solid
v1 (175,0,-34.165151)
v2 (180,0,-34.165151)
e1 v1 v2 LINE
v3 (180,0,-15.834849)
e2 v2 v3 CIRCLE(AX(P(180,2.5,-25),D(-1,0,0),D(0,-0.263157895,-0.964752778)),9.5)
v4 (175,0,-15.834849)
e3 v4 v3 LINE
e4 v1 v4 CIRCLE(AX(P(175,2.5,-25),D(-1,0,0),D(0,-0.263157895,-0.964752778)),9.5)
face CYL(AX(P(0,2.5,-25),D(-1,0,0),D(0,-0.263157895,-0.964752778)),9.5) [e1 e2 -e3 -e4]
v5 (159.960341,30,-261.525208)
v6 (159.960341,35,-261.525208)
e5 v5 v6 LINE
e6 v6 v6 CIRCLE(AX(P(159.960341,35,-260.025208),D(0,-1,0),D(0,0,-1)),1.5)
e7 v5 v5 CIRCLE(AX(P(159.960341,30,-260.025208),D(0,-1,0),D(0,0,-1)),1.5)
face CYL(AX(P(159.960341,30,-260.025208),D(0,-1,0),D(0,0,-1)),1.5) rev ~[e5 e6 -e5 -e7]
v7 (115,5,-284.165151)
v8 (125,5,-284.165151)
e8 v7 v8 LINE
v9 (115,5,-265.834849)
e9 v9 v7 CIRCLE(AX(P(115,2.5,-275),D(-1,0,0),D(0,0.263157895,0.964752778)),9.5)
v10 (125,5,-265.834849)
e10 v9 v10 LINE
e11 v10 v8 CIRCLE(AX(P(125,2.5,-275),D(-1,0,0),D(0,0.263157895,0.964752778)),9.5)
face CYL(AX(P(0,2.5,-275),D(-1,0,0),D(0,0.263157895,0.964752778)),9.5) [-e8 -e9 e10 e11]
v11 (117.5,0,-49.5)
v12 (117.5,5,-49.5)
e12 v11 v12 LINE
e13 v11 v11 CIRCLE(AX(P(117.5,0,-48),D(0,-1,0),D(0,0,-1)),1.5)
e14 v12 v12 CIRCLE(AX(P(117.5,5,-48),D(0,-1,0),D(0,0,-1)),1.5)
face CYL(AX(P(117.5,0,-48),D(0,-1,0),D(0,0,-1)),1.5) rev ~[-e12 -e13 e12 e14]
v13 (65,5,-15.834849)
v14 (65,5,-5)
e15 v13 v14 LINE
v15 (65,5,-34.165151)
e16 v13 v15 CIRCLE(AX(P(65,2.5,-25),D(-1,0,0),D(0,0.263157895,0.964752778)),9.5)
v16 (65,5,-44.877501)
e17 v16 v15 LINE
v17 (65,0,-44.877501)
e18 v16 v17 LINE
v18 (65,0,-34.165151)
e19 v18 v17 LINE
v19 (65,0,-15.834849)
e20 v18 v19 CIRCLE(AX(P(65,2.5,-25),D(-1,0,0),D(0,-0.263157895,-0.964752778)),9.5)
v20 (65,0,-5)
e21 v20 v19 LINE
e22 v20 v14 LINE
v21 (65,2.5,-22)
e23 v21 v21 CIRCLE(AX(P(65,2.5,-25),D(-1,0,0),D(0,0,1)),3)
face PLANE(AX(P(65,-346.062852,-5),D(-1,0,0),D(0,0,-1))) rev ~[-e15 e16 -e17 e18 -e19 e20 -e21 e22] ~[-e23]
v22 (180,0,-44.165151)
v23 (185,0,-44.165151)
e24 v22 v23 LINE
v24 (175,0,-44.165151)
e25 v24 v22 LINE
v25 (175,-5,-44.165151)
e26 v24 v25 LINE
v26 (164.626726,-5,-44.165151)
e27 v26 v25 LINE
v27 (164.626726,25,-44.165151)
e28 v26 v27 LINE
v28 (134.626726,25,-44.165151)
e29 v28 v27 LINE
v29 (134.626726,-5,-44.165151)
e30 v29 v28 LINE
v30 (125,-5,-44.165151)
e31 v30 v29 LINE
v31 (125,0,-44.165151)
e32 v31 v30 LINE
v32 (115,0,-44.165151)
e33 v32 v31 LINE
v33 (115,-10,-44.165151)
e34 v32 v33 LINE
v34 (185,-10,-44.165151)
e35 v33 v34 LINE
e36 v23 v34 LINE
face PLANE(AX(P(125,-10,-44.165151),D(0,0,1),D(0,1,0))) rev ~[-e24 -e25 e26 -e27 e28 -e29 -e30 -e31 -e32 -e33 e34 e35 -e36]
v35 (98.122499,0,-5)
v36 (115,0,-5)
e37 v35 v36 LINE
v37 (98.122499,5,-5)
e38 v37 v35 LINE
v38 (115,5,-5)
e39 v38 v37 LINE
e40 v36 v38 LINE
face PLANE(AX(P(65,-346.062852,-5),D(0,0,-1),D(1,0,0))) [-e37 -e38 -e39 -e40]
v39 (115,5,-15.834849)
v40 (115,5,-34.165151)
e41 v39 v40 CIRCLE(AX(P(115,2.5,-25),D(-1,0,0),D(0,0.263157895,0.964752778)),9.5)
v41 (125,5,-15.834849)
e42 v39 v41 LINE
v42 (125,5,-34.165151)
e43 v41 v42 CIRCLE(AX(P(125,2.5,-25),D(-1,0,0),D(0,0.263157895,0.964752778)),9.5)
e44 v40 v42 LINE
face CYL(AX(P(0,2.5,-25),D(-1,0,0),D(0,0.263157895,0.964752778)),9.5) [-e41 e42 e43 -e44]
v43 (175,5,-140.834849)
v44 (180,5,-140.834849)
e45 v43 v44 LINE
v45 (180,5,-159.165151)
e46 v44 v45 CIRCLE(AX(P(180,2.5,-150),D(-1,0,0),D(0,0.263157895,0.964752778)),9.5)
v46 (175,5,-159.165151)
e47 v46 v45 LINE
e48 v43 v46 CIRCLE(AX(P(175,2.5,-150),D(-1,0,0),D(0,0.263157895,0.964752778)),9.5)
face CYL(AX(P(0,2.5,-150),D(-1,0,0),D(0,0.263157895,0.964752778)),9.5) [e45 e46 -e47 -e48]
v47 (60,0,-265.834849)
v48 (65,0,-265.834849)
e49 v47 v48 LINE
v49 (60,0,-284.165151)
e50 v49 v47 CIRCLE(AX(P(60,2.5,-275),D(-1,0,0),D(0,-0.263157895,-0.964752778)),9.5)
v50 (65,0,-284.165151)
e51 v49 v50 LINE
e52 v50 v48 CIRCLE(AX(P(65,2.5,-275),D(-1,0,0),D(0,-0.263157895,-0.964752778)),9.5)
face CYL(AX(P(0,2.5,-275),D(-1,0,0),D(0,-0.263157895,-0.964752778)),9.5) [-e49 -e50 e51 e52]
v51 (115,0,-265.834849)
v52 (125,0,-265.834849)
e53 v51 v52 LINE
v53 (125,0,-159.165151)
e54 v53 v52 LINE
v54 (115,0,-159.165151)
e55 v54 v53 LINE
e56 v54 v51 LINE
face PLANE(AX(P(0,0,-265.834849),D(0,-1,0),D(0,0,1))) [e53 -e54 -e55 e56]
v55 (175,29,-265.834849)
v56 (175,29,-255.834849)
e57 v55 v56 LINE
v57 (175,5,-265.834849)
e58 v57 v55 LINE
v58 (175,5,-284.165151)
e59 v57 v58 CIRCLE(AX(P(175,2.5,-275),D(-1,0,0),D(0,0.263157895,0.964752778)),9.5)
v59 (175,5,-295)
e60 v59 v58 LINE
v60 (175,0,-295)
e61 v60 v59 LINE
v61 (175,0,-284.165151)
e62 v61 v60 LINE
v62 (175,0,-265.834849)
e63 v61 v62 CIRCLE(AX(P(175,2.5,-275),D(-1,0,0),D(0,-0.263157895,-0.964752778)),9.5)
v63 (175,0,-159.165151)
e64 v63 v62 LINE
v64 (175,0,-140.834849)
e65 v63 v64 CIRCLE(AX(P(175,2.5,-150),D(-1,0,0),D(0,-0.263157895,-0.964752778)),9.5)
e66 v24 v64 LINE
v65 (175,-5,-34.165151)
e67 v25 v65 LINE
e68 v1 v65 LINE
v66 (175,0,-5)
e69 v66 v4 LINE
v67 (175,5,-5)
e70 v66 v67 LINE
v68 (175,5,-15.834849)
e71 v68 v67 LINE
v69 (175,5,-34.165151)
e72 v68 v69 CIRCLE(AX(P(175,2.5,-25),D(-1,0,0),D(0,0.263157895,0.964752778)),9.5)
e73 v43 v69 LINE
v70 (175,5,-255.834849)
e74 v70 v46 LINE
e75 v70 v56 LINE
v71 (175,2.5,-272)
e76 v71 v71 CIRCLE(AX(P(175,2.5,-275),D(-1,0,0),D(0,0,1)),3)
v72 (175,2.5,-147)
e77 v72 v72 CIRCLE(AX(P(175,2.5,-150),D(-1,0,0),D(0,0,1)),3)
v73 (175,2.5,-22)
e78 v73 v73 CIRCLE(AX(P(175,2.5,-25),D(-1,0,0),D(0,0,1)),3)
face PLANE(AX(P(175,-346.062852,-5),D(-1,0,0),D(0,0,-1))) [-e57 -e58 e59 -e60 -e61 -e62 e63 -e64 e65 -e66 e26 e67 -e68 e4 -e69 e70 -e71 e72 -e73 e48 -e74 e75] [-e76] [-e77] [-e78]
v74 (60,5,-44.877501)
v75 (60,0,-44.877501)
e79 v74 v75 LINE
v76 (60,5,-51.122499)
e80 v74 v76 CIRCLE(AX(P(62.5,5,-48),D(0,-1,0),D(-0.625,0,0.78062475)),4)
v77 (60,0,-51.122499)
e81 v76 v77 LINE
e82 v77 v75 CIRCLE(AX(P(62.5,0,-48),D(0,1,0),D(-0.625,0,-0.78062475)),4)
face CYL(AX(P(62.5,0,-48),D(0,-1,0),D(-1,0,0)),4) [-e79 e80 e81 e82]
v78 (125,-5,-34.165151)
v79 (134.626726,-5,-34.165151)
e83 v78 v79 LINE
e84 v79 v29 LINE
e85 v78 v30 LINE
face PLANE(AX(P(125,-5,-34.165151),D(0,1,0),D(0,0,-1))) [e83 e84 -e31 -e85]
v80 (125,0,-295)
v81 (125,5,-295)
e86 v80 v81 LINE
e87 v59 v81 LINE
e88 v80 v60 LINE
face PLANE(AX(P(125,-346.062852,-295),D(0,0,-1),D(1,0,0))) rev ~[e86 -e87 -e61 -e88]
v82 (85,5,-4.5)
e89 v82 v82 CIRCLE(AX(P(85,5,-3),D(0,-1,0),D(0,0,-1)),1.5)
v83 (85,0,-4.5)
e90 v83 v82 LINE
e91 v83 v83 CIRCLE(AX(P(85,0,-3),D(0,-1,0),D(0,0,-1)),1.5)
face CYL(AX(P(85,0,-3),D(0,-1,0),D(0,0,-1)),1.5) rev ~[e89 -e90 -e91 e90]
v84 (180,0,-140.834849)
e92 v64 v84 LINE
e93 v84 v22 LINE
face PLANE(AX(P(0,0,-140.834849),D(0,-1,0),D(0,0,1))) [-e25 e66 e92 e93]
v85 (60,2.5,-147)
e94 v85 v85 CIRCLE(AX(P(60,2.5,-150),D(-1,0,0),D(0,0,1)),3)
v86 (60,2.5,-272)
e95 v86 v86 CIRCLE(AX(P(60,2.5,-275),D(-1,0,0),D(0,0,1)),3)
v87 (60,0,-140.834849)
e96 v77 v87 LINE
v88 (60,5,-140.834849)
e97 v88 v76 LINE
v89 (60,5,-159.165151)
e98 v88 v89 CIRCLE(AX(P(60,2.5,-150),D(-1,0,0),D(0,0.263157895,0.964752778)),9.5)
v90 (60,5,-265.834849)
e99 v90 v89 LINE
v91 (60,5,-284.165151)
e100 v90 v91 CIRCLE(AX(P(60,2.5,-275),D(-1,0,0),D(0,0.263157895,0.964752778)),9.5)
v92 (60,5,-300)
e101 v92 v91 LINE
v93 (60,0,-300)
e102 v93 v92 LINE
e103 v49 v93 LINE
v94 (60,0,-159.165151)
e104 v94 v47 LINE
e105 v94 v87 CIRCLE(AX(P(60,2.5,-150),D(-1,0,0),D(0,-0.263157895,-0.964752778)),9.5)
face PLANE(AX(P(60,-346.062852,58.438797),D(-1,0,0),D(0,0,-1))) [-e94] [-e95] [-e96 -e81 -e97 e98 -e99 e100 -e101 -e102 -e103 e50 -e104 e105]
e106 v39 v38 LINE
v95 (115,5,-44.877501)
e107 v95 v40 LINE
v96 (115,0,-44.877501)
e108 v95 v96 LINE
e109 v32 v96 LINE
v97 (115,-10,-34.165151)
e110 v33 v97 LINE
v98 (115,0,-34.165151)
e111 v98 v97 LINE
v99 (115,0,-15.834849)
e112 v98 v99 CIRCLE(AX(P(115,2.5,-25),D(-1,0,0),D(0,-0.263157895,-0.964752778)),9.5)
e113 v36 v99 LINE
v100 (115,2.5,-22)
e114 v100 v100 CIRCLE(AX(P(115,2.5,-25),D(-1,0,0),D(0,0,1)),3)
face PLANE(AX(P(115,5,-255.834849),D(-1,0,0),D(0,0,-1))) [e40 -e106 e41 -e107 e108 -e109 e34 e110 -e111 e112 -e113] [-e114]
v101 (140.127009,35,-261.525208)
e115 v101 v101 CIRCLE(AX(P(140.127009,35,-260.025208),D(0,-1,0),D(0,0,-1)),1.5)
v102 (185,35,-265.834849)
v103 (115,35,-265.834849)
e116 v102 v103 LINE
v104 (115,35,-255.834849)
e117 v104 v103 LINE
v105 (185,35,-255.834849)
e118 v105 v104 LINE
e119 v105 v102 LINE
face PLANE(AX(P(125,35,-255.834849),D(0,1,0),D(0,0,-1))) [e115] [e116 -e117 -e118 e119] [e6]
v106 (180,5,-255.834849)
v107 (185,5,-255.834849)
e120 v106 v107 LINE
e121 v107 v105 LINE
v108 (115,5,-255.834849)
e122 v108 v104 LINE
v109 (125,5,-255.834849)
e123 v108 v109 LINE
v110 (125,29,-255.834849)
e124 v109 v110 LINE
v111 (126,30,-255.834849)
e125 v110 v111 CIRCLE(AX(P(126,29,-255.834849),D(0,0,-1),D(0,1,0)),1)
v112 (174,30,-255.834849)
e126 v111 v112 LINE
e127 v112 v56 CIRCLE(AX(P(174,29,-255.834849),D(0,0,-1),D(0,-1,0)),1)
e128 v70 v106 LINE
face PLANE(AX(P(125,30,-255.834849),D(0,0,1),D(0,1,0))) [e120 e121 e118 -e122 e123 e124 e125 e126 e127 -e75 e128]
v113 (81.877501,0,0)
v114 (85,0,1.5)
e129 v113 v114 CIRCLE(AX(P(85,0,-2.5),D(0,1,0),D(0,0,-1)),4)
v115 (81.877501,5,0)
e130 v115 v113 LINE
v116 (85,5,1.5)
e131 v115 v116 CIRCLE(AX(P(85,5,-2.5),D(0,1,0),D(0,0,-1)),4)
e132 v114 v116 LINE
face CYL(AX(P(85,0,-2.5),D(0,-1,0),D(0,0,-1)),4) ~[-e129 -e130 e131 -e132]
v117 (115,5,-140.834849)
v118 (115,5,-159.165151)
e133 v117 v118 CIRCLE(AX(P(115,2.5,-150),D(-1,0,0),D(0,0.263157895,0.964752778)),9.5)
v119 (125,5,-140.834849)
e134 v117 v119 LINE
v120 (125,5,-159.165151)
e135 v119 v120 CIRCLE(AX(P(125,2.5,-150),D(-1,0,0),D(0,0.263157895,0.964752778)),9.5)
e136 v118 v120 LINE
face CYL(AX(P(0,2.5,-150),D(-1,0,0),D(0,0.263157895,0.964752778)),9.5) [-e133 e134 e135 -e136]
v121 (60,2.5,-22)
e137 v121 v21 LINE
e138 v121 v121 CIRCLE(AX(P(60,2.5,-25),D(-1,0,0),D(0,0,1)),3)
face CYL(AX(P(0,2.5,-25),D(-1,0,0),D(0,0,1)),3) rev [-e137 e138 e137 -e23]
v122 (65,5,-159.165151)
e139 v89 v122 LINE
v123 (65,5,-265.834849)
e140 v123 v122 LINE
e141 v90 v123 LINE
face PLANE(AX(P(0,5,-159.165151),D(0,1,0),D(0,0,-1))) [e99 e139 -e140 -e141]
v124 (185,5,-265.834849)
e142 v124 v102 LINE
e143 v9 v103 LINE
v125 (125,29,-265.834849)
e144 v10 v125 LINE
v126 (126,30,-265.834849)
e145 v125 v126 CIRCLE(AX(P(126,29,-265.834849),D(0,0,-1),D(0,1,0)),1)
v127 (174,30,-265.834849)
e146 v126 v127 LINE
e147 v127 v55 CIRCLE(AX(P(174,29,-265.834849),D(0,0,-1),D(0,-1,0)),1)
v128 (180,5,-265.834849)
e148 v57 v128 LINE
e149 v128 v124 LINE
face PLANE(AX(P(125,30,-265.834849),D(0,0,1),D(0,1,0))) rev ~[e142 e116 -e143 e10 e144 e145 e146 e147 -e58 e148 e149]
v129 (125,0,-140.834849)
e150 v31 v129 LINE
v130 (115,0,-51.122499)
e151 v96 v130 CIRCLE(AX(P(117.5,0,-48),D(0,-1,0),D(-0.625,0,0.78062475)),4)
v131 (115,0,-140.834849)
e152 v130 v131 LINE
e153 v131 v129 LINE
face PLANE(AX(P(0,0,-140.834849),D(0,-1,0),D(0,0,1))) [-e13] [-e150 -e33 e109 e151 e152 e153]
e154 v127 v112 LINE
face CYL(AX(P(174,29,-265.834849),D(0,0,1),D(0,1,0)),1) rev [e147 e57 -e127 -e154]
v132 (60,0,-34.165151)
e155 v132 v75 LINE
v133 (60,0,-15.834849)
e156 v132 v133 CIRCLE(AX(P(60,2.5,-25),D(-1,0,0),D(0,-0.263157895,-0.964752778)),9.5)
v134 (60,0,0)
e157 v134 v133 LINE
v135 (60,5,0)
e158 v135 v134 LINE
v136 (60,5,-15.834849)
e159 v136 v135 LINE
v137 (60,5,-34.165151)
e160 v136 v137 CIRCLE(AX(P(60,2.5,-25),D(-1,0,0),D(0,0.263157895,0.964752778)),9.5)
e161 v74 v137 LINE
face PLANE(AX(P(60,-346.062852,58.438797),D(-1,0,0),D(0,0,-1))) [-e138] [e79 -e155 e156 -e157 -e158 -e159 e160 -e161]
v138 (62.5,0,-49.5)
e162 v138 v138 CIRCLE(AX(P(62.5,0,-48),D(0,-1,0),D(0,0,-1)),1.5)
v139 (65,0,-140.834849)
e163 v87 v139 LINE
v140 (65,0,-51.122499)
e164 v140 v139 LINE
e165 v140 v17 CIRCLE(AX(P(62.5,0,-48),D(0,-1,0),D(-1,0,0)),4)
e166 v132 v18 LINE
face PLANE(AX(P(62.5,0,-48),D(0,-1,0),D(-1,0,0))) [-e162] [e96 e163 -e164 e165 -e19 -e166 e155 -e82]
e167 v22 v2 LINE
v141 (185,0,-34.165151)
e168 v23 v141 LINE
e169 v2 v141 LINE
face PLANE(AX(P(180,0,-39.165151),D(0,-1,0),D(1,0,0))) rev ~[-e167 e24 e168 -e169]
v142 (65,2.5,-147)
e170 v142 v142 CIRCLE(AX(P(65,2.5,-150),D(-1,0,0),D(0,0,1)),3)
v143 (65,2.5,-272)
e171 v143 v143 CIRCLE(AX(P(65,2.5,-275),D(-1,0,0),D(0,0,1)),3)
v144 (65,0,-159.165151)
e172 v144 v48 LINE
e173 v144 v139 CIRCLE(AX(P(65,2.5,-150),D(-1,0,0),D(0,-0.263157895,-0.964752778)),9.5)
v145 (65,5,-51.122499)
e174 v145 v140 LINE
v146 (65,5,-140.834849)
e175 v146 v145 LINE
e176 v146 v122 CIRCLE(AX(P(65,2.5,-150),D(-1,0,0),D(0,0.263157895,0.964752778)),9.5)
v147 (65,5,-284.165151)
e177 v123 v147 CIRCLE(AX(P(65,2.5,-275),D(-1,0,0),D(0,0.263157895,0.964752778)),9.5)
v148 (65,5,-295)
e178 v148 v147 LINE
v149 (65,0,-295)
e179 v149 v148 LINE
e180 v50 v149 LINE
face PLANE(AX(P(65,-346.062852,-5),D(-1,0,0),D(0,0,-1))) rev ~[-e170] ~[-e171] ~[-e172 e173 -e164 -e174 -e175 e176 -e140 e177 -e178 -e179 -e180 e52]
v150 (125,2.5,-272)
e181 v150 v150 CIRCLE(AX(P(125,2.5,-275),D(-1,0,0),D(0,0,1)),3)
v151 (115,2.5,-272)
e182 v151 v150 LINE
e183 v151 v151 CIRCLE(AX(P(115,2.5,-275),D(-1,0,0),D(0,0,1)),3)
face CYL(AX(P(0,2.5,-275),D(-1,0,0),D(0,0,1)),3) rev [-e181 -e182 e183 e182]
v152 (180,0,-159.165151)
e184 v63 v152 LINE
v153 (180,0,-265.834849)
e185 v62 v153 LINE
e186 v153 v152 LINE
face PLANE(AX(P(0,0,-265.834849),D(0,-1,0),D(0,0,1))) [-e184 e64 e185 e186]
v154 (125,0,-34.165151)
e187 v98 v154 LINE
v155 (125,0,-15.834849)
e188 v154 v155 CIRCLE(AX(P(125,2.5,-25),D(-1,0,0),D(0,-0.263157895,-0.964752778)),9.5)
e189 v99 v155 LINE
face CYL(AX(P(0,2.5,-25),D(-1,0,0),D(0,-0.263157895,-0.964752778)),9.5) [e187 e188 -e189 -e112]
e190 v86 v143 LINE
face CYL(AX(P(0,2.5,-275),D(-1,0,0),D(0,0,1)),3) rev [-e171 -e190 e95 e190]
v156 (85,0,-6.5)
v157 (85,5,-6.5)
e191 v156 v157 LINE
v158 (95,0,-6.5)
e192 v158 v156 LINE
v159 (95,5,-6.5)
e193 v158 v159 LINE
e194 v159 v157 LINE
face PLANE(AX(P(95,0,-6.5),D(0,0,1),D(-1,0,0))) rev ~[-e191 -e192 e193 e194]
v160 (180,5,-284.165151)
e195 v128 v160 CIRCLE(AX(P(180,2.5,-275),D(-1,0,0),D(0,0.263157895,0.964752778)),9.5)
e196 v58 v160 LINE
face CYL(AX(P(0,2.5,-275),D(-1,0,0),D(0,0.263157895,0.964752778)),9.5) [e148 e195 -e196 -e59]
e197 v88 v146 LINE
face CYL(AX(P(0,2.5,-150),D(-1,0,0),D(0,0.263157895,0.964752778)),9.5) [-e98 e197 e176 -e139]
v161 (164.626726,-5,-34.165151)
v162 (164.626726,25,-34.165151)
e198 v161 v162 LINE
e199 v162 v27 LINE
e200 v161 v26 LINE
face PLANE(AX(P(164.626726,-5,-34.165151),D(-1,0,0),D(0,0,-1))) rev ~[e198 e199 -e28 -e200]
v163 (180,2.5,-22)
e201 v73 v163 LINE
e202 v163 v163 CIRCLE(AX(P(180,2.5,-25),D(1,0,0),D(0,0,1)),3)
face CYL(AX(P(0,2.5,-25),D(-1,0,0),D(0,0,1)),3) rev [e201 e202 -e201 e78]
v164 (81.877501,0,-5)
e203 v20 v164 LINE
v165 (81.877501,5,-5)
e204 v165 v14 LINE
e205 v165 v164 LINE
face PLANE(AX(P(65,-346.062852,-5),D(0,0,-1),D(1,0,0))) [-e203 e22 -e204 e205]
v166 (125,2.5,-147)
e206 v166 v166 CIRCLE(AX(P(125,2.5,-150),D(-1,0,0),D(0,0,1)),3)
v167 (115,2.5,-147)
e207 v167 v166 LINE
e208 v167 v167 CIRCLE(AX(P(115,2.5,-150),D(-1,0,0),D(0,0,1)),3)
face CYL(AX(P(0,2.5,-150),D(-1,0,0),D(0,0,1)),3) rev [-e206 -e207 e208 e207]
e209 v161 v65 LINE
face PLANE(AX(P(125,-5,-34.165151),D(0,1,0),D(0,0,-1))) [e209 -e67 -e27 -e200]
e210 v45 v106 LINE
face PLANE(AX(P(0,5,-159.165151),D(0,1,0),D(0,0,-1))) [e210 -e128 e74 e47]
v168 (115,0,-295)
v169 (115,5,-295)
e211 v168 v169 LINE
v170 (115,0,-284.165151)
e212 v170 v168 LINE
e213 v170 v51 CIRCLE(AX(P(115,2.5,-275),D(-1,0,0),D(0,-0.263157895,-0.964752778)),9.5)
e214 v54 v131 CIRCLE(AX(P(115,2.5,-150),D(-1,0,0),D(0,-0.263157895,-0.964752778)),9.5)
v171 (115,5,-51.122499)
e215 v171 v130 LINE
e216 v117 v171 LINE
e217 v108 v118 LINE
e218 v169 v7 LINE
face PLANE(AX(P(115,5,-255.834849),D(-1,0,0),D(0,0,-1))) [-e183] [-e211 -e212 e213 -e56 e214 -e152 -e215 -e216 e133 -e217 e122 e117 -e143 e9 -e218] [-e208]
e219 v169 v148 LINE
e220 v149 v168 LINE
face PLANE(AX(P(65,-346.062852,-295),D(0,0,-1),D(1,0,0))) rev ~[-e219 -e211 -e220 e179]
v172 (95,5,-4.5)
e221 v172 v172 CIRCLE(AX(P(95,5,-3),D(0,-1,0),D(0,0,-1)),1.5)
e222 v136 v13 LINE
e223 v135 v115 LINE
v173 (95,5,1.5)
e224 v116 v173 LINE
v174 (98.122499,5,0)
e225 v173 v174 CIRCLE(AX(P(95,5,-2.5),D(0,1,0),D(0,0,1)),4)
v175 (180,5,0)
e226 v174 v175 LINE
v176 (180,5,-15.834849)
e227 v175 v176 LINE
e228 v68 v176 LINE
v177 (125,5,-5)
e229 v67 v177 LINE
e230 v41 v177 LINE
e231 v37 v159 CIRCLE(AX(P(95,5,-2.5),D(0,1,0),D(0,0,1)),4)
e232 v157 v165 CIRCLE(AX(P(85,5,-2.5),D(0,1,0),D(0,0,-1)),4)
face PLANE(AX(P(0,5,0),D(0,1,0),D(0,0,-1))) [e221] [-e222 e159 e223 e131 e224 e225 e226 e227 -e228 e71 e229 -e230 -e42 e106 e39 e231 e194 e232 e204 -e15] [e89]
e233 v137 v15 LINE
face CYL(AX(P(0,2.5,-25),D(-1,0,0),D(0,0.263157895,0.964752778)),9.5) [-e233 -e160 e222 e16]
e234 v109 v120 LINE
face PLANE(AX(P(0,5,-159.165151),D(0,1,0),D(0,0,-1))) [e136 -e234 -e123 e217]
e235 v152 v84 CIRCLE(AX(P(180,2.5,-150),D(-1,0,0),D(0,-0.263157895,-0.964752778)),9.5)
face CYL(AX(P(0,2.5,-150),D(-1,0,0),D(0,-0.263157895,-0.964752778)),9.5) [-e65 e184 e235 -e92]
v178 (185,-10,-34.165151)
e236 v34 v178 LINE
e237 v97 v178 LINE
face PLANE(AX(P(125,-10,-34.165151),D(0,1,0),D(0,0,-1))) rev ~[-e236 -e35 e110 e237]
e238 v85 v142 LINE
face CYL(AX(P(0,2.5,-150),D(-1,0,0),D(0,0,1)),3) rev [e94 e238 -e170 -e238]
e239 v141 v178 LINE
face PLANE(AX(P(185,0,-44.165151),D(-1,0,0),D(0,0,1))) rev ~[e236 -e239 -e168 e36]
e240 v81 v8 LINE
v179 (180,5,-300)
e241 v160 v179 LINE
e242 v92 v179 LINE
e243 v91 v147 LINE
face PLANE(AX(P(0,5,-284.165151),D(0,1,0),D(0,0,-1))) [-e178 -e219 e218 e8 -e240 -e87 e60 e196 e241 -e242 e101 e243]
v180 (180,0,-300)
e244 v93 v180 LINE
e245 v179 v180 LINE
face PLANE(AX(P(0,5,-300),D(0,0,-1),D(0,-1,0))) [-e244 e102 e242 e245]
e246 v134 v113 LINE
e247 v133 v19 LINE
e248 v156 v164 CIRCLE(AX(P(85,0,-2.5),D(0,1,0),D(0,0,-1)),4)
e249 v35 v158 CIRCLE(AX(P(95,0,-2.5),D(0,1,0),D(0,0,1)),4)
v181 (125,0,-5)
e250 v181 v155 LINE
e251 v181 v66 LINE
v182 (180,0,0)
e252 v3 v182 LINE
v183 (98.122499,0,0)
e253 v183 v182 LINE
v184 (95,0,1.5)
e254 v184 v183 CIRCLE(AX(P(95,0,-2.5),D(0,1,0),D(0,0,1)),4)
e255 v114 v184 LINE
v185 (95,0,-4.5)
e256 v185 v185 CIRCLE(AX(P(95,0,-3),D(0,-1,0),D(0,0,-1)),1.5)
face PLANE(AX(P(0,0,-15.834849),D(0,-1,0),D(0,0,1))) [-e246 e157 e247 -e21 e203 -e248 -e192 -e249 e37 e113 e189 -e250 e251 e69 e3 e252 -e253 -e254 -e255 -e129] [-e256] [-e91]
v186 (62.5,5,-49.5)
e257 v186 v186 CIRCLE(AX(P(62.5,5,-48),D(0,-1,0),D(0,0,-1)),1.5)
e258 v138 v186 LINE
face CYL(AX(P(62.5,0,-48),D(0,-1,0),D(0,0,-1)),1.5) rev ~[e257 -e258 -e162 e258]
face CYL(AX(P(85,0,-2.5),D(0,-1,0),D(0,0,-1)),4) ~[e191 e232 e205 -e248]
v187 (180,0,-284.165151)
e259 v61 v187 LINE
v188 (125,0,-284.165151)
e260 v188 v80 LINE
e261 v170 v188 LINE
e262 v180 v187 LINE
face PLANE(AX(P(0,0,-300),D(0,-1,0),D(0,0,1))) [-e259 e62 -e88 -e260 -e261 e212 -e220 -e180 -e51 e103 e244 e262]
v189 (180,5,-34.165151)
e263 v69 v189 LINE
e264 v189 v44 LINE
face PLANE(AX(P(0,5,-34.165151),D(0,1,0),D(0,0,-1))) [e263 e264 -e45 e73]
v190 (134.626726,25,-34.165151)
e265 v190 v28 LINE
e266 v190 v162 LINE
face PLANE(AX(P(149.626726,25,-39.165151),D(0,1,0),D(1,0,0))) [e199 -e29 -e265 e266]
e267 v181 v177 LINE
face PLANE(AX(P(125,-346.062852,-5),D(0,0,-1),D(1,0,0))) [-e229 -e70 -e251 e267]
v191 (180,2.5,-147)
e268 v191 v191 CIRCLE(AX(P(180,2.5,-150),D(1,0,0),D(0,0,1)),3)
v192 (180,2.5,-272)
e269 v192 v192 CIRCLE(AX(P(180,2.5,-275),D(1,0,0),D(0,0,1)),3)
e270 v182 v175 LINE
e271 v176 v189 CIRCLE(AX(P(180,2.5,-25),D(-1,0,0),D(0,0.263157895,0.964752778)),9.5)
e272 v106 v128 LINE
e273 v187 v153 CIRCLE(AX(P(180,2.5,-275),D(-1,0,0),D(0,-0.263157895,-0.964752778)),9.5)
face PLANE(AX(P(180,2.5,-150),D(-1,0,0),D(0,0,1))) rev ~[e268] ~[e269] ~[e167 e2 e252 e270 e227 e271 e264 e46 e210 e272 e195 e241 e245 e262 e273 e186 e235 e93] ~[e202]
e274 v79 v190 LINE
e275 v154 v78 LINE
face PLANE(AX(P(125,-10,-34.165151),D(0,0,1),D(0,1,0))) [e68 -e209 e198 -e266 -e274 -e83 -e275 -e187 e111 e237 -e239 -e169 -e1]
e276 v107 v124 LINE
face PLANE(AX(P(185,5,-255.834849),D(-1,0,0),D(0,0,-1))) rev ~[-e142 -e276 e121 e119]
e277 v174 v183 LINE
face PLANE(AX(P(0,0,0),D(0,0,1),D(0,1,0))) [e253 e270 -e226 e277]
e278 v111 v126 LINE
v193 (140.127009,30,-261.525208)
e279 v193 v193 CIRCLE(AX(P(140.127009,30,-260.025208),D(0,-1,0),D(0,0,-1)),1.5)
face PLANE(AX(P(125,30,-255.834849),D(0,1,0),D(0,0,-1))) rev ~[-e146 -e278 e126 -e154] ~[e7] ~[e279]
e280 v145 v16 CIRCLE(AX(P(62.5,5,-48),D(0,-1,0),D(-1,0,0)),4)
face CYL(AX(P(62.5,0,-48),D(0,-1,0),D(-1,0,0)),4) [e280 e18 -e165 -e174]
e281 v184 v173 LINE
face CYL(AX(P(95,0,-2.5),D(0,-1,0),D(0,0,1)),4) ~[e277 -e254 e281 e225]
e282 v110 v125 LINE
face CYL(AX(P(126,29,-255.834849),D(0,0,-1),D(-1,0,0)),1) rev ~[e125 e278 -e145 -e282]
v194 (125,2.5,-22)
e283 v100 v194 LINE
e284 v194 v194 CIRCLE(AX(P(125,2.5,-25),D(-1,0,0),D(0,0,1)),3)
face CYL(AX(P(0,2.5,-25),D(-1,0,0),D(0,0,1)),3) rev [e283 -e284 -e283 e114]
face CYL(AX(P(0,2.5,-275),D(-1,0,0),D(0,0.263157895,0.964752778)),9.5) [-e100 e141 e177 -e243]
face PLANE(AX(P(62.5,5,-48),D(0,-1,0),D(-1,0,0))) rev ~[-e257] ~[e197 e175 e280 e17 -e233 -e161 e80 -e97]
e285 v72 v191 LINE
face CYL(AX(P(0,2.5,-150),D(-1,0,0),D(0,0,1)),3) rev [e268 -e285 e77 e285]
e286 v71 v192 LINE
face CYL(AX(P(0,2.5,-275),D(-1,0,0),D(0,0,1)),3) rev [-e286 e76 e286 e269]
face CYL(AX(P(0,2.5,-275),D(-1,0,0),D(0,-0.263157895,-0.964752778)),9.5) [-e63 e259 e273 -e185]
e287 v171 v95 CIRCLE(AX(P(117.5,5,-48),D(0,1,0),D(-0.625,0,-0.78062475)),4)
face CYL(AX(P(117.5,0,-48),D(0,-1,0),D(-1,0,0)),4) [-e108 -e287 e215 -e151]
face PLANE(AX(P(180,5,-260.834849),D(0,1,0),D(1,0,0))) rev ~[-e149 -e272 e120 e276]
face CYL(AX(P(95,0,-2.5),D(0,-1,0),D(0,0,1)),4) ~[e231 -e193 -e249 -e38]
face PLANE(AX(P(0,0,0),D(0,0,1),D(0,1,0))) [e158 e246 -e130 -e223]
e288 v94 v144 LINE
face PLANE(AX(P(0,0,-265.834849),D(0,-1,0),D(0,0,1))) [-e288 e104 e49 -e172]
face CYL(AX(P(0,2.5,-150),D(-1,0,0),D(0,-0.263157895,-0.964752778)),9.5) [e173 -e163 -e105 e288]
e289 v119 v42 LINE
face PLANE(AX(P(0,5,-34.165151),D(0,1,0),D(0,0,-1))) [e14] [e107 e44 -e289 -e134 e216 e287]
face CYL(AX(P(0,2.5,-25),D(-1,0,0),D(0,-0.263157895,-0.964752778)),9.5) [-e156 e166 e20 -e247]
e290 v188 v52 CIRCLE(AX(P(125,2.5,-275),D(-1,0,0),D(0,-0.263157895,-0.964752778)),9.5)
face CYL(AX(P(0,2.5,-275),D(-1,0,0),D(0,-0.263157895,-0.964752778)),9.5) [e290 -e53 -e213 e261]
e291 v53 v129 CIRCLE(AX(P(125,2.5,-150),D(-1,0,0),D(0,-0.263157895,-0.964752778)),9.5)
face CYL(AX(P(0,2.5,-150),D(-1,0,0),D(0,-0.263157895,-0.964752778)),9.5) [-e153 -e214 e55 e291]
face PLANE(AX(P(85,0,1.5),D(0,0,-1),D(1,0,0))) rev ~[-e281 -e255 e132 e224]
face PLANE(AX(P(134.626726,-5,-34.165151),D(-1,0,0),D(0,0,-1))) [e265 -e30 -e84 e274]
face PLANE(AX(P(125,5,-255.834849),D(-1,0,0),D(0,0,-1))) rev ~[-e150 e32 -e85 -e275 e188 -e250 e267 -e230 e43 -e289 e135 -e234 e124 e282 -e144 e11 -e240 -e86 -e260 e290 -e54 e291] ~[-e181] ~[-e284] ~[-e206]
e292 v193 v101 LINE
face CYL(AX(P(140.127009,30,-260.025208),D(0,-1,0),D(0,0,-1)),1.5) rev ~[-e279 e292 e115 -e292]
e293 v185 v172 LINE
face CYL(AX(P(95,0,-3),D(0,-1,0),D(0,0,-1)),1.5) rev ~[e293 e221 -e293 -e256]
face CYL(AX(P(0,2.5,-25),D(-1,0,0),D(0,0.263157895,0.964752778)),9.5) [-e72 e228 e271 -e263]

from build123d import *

# Parameters (mm, degrees)
SKETCH2_R               = 3
BOSS_EXTRUDE1_DEPTH     = 180
CUT_EXTRUDE1_DEPTH      = 351.0628515
CUT_EXTRUDE1_DEPTH_BACK = 351.0628515
SKETCH3_W               = 50
SKETCH3_H               = 290
CUT_EXTRUDE2_DEPTH      = 351.0628515
CUT_EXTRUDE2_DEPTH_BACK = 351.0628515
SKETCH4_W               = 102.017694016
SKETCH4_H               = 381.008210697
SKETCH5_W               = 10
SKETCH5_H               = 10
BOSS_EXTRUDE2_DEPTH     = 10
BOSS_EXTRUDE3_REACH     = 309.195
SKETCH6_W               = 10
SKETCH6_H               = 5
SKETCH7_W               = 10
SKETCH7_H               = 10
BOSS_EXTRUDE4_DEPTH     = 30
BOSS_EXTRUDE5_REACH     = 310.95
SKETCH8_W               = 10
SKETCH8_H               = 5
SKETCH9_W               = 30
SKETCH9_H               = 10
BOSS_EXTRUDE6_DEPTH     = 30
FILLET1_R               = 1
CUT_EXTRUDE3_REACH      = 356.718
SKETCH10_R              = 1.5
SKETCH12_R              = 4
BOSS_EXTRUDE7_DEPTH     = 5
SKETCH13_R              = 1.5
CUT_EXTRUDE4_DEPTH      = 355.189214968


with BuildPart() as part:
    # Sketch2 → Boss-Extrude1 (new body)
    with BuildSketch(Plane(origin=(0, 0, 0), x_dir=(0, 0, -1), z_dir=(1, 0, 0))):
        with BuildLine():
            Line((159.16515139, 5), (265.83484861, 5))
            ThreePointArc((265.83484861, 5), (275, 12), (284.16515139, 5))
            Line((284.16515139, 5), (300, 5))
            Line((300, 5), (300, 0))
            Line((300, 0), (284.16515139, 0))
            ThreePointArc((284.16515139, 0), (275, -7), (265.83484861, 0))
            Line((265.83484861, 0), (159.16515139, 0))
            ThreePointArc((159.16515139, 0), (150, -7), (140.83484861, 0))
            Line((140.83484861, 0), (34.16515139, 0))
            ThreePointArc((34.16515139, 0), (25, -7), (15.83484861, 0))
            Line((15.83484861, 0), (0, 0))
            Line((0, 0), (0, 5))
            Line((0, 5), (15.83484861, 5))
            ThreePointArc((15.83484861, 5), (25, 12), (34.16515139, 5))
            Line((34.16515139, 5), (140.83484861, 5))
            ThreePointArc((140.83484861, 5), (150, 12), (159.16515139, 5))
        make_face()
        with Locations(Location((150, 2.5, 0), (0, 0, 180))):
            Circle(SKETCH2_R, mode=Mode.SUBTRACT)
        with Locations(Location((275, 2.5, 0), (0, 0, 180))):
            Circle(SKETCH2_R, mode=Mode.SUBTRACT)
        with Locations(Location((25, 2.5, 0), (0, 0, 180))):
            Circle(SKETCH2_R, mode=Mode.SUBTRACT)
    extrude(amount=BOSS_EXTRUDE1_DEPTH)

    # Sketch3 → Cut-Extrude1 (cut, two sides: drawn at the far end of the back side and taken through both)
    with BuildSketch(Plane(origin=(0, 5, 0), x_dir=(1, 0, 0), z_dir=(0, 1, 0)).offset(-CUT_EXTRUDE1_DEPTH_BACK)):
        with Locations((150, 150)):
            Rectangle(SKETCH3_W, SKETCH3_H)
        with Locations((90, 150)):
            Rectangle(SKETCH3_W, SKETCH3_H)
        with Locations((30, 150)):
            Rectangle(SKETCH3_W, SKETCH3_H)
    extrude(amount=CUT_EXTRUDE1_DEPTH + CUT_EXTRUDE1_DEPTH_BACK, mode=Mode.SUBTRACT)

    # Sketch4 → Cut-Extrude2 (cut, two sides: drawn at the far end of the back side and taken through both)
    with BuildSketch(Plane(origin=(0, 5, 0), x_dir=(1, 0, 0), z_dir=(0, 1, 0)).offset(-CUT_EXTRUDE2_DEPTH_BACK)):
        with Locations((8.991152992, 132.065308574)):
            Rectangle(SKETCH4_W, SKETCH4_H)
    extrude(amount=CUT_EXTRUDE2_DEPTH + CUT_EXTRUDE2_DEPTH_BACK, mode=Mode.SUBTRACT)

    # Sketch5 → Boss-Extrude2 (add)
    with BuildSketch(Plane.XZ):
        with Locations((120, -39.16515139)):
            Rectangle(SKETCH5_W, SKETCH5_H)
        with Locations((180, -39.16515139)):
            Rectangle(SKETCH5_W, SKETCH5_H)
    extrude(amount=BOSS_EXTRUDE2_DEPTH)

    # Sketch6 → Boss-Extrude3 (add, up to next)
    with BuildSketch(Plane(origin=(125, 0, 0), x_dir=(0, 0, -1), z_dir=(1, 0, 0)), mode=Mode.PRIVATE) as boss_extrude3_sk1:
        with Locations((39.16515139, -7.5)):
            Rectangle(SKETCH6_W, SKETCH6_H)
    boss_extrude3_tool1 = extrude(boss_extrude3_sk1.sketch, amount=BOSS_EXTRUDE3_REACH, mode=Mode.PRIVATE) - part.part
    add(boss_extrude3_tool1.solids().sort_by_distance((125, -7.5, -39.165151))[0])

    # Sketch7 → Boss-Extrude4 (add)
    with BuildSketch(Plane(origin=(0, 5, 0), x_dir=(1, 0, 0), z_dir=(0, 1, 0))):
        with Locations((120, 260.83484861)):
            Rectangle(SKETCH7_W, SKETCH7_H)
        with Locations((180, 260.83484861)):
            Rectangle(SKETCH7_W, SKETCH7_H)
    extrude(amount=BOSS_EXTRUDE4_DEPTH)

    # Sketch8 → Boss-Extrude5 (add, up to next)
    with BuildSketch(Plane(origin=(125, 0, 0), x_dir=(0, 0, -1), z_dir=(1, 0, 0)), mode=Mode.PRIVATE) as boss_extrude5_sk1:
        with Locations((260.83484861, 32.5)):
            Rectangle(SKETCH8_W, SKETCH8_H)
    boss_extrude5_tool1 = extrude(boss_extrude5_sk1.sketch, amount=BOSS_EXTRUDE5_REACH, mode=Mode.PRIVATE) - part.part
    add(boss_extrude5_tool1.solids().sort_by_distance((125, 32.5, -260.834849))[0])

    # Sketch9 → Boss-Extrude6 (add)
    with BuildSketch(Plane(origin=(0, -5, 0), x_dir=(1, 0, 0), z_dir=(0, 1, 0))):
        with Locations((149.626726127, 39.16515139)):
            Rectangle(SKETCH9_W, SKETCH9_H)
    extrude(amount=BOSS_EXTRUDE6_DEPTH)

    # Fillet1
    fillet1_edges = [part.edges().sort_by_distance(p)[0] for p in [
        (175, 30, -260.83484861),
        (125, 30, -260.83484861),
    ]]
    fillet(fillet1_edges, radius=FILLET1_R)

    # Sketch10 → Cut-Extrude3 (cut, up to next)
    with BuildSketch(Plane.XZ.offset(-30), mode=Mode.PRIVATE) as cut_extrude3_sk1:
        with Locations(Location((159.960341314, -260.025208151, 0), (0, 0, 270))):
            Circle(SKETCH10_R)
    cut_extrude3_tool1 = extrude(cut_extrude3_sk1.sketch, amount=-CUT_EXTRUDE3_REACH, mode=Mode.PRIVATE) & part.part
    # Sketch10 → Cut-Extrude3 (cut, up to next)
    with BuildSketch(Plane.XZ.offset(-30), mode=Mode.PRIVATE) as cut_extrude3_sk2:
        with Locations(Location((140.127008814, -260.025208151, 0), (0, 0, 270))):
            Circle(SKETCH10_R)
    cut_extrude3_tool2 = extrude(cut_extrude3_sk2.sketch, amount=-CUT_EXTRUDE3_REACH, mode=Mode.PRIVATE) & part.part
    add(cut_extrude3_tool1.solids().sort_by_distance((159.960341, 30, -260.025208))[0], mode=Mode.SUBTRACT)
    add(cut_extrude3_tool2.solids().sort_by_distance((140.127009, 30, -260.025208))[0], mode=Mode.SUBTRACT)

    # Sketch12 → Boss-Extrude7 (add)
    with BuildSketch(Plane(origin=(0, 0, 0), x_dir=(-1, 0, 0), z_dir=(0, -1, 0))):
        with Locations((-62.5, 48)):
            Circle(SKETCH12_R)
        with Locations((-117.5, 48)):
            Circle(SKETCH12_R)
        with BuildLine():
            Line((-85, -1.5), (-95, -1.5))
            ThreePointArc((-95, -1.5), (-99, 2.5), (-95, 6.5))
            Line((-95, 6.5), (-85, 6.5))
            ThreePointArc((-85, 6.5), (-81, 2.5), (-85, -1.5))
        make_face()
    extrude(amount=-BOSS_EXTRUDE7_DEPTH)

    # Sketch13 → Cut-Extrude4 (cut, through all)
    with BuildSketch(Plane(origin=(0, 0, 0), x_dir=(-1, 0, 0), z_dir=(0, -1, 0))):
        with Locations(Location((-62.5, 48, 0), (0, 0, 90))):
            Circle(SKETCH13_R)
        with Locations(Location((-85, 3, 0), (0, 0, 90))):
            Circle(SKETCH13_R)
        with Locations(Location((-95, 3, 0), (0, 0, 90))):
            Circle(SKETCH13_R)
        with Locations(Location((-117.5, 48, 0), (0, 0, 90))):
            Circle(SKETCH13_R)
    extrude(amount=-CUT_EXTRUDE4_DEPTH, mode=Mode.SUBTRACT)


solid = part.part
